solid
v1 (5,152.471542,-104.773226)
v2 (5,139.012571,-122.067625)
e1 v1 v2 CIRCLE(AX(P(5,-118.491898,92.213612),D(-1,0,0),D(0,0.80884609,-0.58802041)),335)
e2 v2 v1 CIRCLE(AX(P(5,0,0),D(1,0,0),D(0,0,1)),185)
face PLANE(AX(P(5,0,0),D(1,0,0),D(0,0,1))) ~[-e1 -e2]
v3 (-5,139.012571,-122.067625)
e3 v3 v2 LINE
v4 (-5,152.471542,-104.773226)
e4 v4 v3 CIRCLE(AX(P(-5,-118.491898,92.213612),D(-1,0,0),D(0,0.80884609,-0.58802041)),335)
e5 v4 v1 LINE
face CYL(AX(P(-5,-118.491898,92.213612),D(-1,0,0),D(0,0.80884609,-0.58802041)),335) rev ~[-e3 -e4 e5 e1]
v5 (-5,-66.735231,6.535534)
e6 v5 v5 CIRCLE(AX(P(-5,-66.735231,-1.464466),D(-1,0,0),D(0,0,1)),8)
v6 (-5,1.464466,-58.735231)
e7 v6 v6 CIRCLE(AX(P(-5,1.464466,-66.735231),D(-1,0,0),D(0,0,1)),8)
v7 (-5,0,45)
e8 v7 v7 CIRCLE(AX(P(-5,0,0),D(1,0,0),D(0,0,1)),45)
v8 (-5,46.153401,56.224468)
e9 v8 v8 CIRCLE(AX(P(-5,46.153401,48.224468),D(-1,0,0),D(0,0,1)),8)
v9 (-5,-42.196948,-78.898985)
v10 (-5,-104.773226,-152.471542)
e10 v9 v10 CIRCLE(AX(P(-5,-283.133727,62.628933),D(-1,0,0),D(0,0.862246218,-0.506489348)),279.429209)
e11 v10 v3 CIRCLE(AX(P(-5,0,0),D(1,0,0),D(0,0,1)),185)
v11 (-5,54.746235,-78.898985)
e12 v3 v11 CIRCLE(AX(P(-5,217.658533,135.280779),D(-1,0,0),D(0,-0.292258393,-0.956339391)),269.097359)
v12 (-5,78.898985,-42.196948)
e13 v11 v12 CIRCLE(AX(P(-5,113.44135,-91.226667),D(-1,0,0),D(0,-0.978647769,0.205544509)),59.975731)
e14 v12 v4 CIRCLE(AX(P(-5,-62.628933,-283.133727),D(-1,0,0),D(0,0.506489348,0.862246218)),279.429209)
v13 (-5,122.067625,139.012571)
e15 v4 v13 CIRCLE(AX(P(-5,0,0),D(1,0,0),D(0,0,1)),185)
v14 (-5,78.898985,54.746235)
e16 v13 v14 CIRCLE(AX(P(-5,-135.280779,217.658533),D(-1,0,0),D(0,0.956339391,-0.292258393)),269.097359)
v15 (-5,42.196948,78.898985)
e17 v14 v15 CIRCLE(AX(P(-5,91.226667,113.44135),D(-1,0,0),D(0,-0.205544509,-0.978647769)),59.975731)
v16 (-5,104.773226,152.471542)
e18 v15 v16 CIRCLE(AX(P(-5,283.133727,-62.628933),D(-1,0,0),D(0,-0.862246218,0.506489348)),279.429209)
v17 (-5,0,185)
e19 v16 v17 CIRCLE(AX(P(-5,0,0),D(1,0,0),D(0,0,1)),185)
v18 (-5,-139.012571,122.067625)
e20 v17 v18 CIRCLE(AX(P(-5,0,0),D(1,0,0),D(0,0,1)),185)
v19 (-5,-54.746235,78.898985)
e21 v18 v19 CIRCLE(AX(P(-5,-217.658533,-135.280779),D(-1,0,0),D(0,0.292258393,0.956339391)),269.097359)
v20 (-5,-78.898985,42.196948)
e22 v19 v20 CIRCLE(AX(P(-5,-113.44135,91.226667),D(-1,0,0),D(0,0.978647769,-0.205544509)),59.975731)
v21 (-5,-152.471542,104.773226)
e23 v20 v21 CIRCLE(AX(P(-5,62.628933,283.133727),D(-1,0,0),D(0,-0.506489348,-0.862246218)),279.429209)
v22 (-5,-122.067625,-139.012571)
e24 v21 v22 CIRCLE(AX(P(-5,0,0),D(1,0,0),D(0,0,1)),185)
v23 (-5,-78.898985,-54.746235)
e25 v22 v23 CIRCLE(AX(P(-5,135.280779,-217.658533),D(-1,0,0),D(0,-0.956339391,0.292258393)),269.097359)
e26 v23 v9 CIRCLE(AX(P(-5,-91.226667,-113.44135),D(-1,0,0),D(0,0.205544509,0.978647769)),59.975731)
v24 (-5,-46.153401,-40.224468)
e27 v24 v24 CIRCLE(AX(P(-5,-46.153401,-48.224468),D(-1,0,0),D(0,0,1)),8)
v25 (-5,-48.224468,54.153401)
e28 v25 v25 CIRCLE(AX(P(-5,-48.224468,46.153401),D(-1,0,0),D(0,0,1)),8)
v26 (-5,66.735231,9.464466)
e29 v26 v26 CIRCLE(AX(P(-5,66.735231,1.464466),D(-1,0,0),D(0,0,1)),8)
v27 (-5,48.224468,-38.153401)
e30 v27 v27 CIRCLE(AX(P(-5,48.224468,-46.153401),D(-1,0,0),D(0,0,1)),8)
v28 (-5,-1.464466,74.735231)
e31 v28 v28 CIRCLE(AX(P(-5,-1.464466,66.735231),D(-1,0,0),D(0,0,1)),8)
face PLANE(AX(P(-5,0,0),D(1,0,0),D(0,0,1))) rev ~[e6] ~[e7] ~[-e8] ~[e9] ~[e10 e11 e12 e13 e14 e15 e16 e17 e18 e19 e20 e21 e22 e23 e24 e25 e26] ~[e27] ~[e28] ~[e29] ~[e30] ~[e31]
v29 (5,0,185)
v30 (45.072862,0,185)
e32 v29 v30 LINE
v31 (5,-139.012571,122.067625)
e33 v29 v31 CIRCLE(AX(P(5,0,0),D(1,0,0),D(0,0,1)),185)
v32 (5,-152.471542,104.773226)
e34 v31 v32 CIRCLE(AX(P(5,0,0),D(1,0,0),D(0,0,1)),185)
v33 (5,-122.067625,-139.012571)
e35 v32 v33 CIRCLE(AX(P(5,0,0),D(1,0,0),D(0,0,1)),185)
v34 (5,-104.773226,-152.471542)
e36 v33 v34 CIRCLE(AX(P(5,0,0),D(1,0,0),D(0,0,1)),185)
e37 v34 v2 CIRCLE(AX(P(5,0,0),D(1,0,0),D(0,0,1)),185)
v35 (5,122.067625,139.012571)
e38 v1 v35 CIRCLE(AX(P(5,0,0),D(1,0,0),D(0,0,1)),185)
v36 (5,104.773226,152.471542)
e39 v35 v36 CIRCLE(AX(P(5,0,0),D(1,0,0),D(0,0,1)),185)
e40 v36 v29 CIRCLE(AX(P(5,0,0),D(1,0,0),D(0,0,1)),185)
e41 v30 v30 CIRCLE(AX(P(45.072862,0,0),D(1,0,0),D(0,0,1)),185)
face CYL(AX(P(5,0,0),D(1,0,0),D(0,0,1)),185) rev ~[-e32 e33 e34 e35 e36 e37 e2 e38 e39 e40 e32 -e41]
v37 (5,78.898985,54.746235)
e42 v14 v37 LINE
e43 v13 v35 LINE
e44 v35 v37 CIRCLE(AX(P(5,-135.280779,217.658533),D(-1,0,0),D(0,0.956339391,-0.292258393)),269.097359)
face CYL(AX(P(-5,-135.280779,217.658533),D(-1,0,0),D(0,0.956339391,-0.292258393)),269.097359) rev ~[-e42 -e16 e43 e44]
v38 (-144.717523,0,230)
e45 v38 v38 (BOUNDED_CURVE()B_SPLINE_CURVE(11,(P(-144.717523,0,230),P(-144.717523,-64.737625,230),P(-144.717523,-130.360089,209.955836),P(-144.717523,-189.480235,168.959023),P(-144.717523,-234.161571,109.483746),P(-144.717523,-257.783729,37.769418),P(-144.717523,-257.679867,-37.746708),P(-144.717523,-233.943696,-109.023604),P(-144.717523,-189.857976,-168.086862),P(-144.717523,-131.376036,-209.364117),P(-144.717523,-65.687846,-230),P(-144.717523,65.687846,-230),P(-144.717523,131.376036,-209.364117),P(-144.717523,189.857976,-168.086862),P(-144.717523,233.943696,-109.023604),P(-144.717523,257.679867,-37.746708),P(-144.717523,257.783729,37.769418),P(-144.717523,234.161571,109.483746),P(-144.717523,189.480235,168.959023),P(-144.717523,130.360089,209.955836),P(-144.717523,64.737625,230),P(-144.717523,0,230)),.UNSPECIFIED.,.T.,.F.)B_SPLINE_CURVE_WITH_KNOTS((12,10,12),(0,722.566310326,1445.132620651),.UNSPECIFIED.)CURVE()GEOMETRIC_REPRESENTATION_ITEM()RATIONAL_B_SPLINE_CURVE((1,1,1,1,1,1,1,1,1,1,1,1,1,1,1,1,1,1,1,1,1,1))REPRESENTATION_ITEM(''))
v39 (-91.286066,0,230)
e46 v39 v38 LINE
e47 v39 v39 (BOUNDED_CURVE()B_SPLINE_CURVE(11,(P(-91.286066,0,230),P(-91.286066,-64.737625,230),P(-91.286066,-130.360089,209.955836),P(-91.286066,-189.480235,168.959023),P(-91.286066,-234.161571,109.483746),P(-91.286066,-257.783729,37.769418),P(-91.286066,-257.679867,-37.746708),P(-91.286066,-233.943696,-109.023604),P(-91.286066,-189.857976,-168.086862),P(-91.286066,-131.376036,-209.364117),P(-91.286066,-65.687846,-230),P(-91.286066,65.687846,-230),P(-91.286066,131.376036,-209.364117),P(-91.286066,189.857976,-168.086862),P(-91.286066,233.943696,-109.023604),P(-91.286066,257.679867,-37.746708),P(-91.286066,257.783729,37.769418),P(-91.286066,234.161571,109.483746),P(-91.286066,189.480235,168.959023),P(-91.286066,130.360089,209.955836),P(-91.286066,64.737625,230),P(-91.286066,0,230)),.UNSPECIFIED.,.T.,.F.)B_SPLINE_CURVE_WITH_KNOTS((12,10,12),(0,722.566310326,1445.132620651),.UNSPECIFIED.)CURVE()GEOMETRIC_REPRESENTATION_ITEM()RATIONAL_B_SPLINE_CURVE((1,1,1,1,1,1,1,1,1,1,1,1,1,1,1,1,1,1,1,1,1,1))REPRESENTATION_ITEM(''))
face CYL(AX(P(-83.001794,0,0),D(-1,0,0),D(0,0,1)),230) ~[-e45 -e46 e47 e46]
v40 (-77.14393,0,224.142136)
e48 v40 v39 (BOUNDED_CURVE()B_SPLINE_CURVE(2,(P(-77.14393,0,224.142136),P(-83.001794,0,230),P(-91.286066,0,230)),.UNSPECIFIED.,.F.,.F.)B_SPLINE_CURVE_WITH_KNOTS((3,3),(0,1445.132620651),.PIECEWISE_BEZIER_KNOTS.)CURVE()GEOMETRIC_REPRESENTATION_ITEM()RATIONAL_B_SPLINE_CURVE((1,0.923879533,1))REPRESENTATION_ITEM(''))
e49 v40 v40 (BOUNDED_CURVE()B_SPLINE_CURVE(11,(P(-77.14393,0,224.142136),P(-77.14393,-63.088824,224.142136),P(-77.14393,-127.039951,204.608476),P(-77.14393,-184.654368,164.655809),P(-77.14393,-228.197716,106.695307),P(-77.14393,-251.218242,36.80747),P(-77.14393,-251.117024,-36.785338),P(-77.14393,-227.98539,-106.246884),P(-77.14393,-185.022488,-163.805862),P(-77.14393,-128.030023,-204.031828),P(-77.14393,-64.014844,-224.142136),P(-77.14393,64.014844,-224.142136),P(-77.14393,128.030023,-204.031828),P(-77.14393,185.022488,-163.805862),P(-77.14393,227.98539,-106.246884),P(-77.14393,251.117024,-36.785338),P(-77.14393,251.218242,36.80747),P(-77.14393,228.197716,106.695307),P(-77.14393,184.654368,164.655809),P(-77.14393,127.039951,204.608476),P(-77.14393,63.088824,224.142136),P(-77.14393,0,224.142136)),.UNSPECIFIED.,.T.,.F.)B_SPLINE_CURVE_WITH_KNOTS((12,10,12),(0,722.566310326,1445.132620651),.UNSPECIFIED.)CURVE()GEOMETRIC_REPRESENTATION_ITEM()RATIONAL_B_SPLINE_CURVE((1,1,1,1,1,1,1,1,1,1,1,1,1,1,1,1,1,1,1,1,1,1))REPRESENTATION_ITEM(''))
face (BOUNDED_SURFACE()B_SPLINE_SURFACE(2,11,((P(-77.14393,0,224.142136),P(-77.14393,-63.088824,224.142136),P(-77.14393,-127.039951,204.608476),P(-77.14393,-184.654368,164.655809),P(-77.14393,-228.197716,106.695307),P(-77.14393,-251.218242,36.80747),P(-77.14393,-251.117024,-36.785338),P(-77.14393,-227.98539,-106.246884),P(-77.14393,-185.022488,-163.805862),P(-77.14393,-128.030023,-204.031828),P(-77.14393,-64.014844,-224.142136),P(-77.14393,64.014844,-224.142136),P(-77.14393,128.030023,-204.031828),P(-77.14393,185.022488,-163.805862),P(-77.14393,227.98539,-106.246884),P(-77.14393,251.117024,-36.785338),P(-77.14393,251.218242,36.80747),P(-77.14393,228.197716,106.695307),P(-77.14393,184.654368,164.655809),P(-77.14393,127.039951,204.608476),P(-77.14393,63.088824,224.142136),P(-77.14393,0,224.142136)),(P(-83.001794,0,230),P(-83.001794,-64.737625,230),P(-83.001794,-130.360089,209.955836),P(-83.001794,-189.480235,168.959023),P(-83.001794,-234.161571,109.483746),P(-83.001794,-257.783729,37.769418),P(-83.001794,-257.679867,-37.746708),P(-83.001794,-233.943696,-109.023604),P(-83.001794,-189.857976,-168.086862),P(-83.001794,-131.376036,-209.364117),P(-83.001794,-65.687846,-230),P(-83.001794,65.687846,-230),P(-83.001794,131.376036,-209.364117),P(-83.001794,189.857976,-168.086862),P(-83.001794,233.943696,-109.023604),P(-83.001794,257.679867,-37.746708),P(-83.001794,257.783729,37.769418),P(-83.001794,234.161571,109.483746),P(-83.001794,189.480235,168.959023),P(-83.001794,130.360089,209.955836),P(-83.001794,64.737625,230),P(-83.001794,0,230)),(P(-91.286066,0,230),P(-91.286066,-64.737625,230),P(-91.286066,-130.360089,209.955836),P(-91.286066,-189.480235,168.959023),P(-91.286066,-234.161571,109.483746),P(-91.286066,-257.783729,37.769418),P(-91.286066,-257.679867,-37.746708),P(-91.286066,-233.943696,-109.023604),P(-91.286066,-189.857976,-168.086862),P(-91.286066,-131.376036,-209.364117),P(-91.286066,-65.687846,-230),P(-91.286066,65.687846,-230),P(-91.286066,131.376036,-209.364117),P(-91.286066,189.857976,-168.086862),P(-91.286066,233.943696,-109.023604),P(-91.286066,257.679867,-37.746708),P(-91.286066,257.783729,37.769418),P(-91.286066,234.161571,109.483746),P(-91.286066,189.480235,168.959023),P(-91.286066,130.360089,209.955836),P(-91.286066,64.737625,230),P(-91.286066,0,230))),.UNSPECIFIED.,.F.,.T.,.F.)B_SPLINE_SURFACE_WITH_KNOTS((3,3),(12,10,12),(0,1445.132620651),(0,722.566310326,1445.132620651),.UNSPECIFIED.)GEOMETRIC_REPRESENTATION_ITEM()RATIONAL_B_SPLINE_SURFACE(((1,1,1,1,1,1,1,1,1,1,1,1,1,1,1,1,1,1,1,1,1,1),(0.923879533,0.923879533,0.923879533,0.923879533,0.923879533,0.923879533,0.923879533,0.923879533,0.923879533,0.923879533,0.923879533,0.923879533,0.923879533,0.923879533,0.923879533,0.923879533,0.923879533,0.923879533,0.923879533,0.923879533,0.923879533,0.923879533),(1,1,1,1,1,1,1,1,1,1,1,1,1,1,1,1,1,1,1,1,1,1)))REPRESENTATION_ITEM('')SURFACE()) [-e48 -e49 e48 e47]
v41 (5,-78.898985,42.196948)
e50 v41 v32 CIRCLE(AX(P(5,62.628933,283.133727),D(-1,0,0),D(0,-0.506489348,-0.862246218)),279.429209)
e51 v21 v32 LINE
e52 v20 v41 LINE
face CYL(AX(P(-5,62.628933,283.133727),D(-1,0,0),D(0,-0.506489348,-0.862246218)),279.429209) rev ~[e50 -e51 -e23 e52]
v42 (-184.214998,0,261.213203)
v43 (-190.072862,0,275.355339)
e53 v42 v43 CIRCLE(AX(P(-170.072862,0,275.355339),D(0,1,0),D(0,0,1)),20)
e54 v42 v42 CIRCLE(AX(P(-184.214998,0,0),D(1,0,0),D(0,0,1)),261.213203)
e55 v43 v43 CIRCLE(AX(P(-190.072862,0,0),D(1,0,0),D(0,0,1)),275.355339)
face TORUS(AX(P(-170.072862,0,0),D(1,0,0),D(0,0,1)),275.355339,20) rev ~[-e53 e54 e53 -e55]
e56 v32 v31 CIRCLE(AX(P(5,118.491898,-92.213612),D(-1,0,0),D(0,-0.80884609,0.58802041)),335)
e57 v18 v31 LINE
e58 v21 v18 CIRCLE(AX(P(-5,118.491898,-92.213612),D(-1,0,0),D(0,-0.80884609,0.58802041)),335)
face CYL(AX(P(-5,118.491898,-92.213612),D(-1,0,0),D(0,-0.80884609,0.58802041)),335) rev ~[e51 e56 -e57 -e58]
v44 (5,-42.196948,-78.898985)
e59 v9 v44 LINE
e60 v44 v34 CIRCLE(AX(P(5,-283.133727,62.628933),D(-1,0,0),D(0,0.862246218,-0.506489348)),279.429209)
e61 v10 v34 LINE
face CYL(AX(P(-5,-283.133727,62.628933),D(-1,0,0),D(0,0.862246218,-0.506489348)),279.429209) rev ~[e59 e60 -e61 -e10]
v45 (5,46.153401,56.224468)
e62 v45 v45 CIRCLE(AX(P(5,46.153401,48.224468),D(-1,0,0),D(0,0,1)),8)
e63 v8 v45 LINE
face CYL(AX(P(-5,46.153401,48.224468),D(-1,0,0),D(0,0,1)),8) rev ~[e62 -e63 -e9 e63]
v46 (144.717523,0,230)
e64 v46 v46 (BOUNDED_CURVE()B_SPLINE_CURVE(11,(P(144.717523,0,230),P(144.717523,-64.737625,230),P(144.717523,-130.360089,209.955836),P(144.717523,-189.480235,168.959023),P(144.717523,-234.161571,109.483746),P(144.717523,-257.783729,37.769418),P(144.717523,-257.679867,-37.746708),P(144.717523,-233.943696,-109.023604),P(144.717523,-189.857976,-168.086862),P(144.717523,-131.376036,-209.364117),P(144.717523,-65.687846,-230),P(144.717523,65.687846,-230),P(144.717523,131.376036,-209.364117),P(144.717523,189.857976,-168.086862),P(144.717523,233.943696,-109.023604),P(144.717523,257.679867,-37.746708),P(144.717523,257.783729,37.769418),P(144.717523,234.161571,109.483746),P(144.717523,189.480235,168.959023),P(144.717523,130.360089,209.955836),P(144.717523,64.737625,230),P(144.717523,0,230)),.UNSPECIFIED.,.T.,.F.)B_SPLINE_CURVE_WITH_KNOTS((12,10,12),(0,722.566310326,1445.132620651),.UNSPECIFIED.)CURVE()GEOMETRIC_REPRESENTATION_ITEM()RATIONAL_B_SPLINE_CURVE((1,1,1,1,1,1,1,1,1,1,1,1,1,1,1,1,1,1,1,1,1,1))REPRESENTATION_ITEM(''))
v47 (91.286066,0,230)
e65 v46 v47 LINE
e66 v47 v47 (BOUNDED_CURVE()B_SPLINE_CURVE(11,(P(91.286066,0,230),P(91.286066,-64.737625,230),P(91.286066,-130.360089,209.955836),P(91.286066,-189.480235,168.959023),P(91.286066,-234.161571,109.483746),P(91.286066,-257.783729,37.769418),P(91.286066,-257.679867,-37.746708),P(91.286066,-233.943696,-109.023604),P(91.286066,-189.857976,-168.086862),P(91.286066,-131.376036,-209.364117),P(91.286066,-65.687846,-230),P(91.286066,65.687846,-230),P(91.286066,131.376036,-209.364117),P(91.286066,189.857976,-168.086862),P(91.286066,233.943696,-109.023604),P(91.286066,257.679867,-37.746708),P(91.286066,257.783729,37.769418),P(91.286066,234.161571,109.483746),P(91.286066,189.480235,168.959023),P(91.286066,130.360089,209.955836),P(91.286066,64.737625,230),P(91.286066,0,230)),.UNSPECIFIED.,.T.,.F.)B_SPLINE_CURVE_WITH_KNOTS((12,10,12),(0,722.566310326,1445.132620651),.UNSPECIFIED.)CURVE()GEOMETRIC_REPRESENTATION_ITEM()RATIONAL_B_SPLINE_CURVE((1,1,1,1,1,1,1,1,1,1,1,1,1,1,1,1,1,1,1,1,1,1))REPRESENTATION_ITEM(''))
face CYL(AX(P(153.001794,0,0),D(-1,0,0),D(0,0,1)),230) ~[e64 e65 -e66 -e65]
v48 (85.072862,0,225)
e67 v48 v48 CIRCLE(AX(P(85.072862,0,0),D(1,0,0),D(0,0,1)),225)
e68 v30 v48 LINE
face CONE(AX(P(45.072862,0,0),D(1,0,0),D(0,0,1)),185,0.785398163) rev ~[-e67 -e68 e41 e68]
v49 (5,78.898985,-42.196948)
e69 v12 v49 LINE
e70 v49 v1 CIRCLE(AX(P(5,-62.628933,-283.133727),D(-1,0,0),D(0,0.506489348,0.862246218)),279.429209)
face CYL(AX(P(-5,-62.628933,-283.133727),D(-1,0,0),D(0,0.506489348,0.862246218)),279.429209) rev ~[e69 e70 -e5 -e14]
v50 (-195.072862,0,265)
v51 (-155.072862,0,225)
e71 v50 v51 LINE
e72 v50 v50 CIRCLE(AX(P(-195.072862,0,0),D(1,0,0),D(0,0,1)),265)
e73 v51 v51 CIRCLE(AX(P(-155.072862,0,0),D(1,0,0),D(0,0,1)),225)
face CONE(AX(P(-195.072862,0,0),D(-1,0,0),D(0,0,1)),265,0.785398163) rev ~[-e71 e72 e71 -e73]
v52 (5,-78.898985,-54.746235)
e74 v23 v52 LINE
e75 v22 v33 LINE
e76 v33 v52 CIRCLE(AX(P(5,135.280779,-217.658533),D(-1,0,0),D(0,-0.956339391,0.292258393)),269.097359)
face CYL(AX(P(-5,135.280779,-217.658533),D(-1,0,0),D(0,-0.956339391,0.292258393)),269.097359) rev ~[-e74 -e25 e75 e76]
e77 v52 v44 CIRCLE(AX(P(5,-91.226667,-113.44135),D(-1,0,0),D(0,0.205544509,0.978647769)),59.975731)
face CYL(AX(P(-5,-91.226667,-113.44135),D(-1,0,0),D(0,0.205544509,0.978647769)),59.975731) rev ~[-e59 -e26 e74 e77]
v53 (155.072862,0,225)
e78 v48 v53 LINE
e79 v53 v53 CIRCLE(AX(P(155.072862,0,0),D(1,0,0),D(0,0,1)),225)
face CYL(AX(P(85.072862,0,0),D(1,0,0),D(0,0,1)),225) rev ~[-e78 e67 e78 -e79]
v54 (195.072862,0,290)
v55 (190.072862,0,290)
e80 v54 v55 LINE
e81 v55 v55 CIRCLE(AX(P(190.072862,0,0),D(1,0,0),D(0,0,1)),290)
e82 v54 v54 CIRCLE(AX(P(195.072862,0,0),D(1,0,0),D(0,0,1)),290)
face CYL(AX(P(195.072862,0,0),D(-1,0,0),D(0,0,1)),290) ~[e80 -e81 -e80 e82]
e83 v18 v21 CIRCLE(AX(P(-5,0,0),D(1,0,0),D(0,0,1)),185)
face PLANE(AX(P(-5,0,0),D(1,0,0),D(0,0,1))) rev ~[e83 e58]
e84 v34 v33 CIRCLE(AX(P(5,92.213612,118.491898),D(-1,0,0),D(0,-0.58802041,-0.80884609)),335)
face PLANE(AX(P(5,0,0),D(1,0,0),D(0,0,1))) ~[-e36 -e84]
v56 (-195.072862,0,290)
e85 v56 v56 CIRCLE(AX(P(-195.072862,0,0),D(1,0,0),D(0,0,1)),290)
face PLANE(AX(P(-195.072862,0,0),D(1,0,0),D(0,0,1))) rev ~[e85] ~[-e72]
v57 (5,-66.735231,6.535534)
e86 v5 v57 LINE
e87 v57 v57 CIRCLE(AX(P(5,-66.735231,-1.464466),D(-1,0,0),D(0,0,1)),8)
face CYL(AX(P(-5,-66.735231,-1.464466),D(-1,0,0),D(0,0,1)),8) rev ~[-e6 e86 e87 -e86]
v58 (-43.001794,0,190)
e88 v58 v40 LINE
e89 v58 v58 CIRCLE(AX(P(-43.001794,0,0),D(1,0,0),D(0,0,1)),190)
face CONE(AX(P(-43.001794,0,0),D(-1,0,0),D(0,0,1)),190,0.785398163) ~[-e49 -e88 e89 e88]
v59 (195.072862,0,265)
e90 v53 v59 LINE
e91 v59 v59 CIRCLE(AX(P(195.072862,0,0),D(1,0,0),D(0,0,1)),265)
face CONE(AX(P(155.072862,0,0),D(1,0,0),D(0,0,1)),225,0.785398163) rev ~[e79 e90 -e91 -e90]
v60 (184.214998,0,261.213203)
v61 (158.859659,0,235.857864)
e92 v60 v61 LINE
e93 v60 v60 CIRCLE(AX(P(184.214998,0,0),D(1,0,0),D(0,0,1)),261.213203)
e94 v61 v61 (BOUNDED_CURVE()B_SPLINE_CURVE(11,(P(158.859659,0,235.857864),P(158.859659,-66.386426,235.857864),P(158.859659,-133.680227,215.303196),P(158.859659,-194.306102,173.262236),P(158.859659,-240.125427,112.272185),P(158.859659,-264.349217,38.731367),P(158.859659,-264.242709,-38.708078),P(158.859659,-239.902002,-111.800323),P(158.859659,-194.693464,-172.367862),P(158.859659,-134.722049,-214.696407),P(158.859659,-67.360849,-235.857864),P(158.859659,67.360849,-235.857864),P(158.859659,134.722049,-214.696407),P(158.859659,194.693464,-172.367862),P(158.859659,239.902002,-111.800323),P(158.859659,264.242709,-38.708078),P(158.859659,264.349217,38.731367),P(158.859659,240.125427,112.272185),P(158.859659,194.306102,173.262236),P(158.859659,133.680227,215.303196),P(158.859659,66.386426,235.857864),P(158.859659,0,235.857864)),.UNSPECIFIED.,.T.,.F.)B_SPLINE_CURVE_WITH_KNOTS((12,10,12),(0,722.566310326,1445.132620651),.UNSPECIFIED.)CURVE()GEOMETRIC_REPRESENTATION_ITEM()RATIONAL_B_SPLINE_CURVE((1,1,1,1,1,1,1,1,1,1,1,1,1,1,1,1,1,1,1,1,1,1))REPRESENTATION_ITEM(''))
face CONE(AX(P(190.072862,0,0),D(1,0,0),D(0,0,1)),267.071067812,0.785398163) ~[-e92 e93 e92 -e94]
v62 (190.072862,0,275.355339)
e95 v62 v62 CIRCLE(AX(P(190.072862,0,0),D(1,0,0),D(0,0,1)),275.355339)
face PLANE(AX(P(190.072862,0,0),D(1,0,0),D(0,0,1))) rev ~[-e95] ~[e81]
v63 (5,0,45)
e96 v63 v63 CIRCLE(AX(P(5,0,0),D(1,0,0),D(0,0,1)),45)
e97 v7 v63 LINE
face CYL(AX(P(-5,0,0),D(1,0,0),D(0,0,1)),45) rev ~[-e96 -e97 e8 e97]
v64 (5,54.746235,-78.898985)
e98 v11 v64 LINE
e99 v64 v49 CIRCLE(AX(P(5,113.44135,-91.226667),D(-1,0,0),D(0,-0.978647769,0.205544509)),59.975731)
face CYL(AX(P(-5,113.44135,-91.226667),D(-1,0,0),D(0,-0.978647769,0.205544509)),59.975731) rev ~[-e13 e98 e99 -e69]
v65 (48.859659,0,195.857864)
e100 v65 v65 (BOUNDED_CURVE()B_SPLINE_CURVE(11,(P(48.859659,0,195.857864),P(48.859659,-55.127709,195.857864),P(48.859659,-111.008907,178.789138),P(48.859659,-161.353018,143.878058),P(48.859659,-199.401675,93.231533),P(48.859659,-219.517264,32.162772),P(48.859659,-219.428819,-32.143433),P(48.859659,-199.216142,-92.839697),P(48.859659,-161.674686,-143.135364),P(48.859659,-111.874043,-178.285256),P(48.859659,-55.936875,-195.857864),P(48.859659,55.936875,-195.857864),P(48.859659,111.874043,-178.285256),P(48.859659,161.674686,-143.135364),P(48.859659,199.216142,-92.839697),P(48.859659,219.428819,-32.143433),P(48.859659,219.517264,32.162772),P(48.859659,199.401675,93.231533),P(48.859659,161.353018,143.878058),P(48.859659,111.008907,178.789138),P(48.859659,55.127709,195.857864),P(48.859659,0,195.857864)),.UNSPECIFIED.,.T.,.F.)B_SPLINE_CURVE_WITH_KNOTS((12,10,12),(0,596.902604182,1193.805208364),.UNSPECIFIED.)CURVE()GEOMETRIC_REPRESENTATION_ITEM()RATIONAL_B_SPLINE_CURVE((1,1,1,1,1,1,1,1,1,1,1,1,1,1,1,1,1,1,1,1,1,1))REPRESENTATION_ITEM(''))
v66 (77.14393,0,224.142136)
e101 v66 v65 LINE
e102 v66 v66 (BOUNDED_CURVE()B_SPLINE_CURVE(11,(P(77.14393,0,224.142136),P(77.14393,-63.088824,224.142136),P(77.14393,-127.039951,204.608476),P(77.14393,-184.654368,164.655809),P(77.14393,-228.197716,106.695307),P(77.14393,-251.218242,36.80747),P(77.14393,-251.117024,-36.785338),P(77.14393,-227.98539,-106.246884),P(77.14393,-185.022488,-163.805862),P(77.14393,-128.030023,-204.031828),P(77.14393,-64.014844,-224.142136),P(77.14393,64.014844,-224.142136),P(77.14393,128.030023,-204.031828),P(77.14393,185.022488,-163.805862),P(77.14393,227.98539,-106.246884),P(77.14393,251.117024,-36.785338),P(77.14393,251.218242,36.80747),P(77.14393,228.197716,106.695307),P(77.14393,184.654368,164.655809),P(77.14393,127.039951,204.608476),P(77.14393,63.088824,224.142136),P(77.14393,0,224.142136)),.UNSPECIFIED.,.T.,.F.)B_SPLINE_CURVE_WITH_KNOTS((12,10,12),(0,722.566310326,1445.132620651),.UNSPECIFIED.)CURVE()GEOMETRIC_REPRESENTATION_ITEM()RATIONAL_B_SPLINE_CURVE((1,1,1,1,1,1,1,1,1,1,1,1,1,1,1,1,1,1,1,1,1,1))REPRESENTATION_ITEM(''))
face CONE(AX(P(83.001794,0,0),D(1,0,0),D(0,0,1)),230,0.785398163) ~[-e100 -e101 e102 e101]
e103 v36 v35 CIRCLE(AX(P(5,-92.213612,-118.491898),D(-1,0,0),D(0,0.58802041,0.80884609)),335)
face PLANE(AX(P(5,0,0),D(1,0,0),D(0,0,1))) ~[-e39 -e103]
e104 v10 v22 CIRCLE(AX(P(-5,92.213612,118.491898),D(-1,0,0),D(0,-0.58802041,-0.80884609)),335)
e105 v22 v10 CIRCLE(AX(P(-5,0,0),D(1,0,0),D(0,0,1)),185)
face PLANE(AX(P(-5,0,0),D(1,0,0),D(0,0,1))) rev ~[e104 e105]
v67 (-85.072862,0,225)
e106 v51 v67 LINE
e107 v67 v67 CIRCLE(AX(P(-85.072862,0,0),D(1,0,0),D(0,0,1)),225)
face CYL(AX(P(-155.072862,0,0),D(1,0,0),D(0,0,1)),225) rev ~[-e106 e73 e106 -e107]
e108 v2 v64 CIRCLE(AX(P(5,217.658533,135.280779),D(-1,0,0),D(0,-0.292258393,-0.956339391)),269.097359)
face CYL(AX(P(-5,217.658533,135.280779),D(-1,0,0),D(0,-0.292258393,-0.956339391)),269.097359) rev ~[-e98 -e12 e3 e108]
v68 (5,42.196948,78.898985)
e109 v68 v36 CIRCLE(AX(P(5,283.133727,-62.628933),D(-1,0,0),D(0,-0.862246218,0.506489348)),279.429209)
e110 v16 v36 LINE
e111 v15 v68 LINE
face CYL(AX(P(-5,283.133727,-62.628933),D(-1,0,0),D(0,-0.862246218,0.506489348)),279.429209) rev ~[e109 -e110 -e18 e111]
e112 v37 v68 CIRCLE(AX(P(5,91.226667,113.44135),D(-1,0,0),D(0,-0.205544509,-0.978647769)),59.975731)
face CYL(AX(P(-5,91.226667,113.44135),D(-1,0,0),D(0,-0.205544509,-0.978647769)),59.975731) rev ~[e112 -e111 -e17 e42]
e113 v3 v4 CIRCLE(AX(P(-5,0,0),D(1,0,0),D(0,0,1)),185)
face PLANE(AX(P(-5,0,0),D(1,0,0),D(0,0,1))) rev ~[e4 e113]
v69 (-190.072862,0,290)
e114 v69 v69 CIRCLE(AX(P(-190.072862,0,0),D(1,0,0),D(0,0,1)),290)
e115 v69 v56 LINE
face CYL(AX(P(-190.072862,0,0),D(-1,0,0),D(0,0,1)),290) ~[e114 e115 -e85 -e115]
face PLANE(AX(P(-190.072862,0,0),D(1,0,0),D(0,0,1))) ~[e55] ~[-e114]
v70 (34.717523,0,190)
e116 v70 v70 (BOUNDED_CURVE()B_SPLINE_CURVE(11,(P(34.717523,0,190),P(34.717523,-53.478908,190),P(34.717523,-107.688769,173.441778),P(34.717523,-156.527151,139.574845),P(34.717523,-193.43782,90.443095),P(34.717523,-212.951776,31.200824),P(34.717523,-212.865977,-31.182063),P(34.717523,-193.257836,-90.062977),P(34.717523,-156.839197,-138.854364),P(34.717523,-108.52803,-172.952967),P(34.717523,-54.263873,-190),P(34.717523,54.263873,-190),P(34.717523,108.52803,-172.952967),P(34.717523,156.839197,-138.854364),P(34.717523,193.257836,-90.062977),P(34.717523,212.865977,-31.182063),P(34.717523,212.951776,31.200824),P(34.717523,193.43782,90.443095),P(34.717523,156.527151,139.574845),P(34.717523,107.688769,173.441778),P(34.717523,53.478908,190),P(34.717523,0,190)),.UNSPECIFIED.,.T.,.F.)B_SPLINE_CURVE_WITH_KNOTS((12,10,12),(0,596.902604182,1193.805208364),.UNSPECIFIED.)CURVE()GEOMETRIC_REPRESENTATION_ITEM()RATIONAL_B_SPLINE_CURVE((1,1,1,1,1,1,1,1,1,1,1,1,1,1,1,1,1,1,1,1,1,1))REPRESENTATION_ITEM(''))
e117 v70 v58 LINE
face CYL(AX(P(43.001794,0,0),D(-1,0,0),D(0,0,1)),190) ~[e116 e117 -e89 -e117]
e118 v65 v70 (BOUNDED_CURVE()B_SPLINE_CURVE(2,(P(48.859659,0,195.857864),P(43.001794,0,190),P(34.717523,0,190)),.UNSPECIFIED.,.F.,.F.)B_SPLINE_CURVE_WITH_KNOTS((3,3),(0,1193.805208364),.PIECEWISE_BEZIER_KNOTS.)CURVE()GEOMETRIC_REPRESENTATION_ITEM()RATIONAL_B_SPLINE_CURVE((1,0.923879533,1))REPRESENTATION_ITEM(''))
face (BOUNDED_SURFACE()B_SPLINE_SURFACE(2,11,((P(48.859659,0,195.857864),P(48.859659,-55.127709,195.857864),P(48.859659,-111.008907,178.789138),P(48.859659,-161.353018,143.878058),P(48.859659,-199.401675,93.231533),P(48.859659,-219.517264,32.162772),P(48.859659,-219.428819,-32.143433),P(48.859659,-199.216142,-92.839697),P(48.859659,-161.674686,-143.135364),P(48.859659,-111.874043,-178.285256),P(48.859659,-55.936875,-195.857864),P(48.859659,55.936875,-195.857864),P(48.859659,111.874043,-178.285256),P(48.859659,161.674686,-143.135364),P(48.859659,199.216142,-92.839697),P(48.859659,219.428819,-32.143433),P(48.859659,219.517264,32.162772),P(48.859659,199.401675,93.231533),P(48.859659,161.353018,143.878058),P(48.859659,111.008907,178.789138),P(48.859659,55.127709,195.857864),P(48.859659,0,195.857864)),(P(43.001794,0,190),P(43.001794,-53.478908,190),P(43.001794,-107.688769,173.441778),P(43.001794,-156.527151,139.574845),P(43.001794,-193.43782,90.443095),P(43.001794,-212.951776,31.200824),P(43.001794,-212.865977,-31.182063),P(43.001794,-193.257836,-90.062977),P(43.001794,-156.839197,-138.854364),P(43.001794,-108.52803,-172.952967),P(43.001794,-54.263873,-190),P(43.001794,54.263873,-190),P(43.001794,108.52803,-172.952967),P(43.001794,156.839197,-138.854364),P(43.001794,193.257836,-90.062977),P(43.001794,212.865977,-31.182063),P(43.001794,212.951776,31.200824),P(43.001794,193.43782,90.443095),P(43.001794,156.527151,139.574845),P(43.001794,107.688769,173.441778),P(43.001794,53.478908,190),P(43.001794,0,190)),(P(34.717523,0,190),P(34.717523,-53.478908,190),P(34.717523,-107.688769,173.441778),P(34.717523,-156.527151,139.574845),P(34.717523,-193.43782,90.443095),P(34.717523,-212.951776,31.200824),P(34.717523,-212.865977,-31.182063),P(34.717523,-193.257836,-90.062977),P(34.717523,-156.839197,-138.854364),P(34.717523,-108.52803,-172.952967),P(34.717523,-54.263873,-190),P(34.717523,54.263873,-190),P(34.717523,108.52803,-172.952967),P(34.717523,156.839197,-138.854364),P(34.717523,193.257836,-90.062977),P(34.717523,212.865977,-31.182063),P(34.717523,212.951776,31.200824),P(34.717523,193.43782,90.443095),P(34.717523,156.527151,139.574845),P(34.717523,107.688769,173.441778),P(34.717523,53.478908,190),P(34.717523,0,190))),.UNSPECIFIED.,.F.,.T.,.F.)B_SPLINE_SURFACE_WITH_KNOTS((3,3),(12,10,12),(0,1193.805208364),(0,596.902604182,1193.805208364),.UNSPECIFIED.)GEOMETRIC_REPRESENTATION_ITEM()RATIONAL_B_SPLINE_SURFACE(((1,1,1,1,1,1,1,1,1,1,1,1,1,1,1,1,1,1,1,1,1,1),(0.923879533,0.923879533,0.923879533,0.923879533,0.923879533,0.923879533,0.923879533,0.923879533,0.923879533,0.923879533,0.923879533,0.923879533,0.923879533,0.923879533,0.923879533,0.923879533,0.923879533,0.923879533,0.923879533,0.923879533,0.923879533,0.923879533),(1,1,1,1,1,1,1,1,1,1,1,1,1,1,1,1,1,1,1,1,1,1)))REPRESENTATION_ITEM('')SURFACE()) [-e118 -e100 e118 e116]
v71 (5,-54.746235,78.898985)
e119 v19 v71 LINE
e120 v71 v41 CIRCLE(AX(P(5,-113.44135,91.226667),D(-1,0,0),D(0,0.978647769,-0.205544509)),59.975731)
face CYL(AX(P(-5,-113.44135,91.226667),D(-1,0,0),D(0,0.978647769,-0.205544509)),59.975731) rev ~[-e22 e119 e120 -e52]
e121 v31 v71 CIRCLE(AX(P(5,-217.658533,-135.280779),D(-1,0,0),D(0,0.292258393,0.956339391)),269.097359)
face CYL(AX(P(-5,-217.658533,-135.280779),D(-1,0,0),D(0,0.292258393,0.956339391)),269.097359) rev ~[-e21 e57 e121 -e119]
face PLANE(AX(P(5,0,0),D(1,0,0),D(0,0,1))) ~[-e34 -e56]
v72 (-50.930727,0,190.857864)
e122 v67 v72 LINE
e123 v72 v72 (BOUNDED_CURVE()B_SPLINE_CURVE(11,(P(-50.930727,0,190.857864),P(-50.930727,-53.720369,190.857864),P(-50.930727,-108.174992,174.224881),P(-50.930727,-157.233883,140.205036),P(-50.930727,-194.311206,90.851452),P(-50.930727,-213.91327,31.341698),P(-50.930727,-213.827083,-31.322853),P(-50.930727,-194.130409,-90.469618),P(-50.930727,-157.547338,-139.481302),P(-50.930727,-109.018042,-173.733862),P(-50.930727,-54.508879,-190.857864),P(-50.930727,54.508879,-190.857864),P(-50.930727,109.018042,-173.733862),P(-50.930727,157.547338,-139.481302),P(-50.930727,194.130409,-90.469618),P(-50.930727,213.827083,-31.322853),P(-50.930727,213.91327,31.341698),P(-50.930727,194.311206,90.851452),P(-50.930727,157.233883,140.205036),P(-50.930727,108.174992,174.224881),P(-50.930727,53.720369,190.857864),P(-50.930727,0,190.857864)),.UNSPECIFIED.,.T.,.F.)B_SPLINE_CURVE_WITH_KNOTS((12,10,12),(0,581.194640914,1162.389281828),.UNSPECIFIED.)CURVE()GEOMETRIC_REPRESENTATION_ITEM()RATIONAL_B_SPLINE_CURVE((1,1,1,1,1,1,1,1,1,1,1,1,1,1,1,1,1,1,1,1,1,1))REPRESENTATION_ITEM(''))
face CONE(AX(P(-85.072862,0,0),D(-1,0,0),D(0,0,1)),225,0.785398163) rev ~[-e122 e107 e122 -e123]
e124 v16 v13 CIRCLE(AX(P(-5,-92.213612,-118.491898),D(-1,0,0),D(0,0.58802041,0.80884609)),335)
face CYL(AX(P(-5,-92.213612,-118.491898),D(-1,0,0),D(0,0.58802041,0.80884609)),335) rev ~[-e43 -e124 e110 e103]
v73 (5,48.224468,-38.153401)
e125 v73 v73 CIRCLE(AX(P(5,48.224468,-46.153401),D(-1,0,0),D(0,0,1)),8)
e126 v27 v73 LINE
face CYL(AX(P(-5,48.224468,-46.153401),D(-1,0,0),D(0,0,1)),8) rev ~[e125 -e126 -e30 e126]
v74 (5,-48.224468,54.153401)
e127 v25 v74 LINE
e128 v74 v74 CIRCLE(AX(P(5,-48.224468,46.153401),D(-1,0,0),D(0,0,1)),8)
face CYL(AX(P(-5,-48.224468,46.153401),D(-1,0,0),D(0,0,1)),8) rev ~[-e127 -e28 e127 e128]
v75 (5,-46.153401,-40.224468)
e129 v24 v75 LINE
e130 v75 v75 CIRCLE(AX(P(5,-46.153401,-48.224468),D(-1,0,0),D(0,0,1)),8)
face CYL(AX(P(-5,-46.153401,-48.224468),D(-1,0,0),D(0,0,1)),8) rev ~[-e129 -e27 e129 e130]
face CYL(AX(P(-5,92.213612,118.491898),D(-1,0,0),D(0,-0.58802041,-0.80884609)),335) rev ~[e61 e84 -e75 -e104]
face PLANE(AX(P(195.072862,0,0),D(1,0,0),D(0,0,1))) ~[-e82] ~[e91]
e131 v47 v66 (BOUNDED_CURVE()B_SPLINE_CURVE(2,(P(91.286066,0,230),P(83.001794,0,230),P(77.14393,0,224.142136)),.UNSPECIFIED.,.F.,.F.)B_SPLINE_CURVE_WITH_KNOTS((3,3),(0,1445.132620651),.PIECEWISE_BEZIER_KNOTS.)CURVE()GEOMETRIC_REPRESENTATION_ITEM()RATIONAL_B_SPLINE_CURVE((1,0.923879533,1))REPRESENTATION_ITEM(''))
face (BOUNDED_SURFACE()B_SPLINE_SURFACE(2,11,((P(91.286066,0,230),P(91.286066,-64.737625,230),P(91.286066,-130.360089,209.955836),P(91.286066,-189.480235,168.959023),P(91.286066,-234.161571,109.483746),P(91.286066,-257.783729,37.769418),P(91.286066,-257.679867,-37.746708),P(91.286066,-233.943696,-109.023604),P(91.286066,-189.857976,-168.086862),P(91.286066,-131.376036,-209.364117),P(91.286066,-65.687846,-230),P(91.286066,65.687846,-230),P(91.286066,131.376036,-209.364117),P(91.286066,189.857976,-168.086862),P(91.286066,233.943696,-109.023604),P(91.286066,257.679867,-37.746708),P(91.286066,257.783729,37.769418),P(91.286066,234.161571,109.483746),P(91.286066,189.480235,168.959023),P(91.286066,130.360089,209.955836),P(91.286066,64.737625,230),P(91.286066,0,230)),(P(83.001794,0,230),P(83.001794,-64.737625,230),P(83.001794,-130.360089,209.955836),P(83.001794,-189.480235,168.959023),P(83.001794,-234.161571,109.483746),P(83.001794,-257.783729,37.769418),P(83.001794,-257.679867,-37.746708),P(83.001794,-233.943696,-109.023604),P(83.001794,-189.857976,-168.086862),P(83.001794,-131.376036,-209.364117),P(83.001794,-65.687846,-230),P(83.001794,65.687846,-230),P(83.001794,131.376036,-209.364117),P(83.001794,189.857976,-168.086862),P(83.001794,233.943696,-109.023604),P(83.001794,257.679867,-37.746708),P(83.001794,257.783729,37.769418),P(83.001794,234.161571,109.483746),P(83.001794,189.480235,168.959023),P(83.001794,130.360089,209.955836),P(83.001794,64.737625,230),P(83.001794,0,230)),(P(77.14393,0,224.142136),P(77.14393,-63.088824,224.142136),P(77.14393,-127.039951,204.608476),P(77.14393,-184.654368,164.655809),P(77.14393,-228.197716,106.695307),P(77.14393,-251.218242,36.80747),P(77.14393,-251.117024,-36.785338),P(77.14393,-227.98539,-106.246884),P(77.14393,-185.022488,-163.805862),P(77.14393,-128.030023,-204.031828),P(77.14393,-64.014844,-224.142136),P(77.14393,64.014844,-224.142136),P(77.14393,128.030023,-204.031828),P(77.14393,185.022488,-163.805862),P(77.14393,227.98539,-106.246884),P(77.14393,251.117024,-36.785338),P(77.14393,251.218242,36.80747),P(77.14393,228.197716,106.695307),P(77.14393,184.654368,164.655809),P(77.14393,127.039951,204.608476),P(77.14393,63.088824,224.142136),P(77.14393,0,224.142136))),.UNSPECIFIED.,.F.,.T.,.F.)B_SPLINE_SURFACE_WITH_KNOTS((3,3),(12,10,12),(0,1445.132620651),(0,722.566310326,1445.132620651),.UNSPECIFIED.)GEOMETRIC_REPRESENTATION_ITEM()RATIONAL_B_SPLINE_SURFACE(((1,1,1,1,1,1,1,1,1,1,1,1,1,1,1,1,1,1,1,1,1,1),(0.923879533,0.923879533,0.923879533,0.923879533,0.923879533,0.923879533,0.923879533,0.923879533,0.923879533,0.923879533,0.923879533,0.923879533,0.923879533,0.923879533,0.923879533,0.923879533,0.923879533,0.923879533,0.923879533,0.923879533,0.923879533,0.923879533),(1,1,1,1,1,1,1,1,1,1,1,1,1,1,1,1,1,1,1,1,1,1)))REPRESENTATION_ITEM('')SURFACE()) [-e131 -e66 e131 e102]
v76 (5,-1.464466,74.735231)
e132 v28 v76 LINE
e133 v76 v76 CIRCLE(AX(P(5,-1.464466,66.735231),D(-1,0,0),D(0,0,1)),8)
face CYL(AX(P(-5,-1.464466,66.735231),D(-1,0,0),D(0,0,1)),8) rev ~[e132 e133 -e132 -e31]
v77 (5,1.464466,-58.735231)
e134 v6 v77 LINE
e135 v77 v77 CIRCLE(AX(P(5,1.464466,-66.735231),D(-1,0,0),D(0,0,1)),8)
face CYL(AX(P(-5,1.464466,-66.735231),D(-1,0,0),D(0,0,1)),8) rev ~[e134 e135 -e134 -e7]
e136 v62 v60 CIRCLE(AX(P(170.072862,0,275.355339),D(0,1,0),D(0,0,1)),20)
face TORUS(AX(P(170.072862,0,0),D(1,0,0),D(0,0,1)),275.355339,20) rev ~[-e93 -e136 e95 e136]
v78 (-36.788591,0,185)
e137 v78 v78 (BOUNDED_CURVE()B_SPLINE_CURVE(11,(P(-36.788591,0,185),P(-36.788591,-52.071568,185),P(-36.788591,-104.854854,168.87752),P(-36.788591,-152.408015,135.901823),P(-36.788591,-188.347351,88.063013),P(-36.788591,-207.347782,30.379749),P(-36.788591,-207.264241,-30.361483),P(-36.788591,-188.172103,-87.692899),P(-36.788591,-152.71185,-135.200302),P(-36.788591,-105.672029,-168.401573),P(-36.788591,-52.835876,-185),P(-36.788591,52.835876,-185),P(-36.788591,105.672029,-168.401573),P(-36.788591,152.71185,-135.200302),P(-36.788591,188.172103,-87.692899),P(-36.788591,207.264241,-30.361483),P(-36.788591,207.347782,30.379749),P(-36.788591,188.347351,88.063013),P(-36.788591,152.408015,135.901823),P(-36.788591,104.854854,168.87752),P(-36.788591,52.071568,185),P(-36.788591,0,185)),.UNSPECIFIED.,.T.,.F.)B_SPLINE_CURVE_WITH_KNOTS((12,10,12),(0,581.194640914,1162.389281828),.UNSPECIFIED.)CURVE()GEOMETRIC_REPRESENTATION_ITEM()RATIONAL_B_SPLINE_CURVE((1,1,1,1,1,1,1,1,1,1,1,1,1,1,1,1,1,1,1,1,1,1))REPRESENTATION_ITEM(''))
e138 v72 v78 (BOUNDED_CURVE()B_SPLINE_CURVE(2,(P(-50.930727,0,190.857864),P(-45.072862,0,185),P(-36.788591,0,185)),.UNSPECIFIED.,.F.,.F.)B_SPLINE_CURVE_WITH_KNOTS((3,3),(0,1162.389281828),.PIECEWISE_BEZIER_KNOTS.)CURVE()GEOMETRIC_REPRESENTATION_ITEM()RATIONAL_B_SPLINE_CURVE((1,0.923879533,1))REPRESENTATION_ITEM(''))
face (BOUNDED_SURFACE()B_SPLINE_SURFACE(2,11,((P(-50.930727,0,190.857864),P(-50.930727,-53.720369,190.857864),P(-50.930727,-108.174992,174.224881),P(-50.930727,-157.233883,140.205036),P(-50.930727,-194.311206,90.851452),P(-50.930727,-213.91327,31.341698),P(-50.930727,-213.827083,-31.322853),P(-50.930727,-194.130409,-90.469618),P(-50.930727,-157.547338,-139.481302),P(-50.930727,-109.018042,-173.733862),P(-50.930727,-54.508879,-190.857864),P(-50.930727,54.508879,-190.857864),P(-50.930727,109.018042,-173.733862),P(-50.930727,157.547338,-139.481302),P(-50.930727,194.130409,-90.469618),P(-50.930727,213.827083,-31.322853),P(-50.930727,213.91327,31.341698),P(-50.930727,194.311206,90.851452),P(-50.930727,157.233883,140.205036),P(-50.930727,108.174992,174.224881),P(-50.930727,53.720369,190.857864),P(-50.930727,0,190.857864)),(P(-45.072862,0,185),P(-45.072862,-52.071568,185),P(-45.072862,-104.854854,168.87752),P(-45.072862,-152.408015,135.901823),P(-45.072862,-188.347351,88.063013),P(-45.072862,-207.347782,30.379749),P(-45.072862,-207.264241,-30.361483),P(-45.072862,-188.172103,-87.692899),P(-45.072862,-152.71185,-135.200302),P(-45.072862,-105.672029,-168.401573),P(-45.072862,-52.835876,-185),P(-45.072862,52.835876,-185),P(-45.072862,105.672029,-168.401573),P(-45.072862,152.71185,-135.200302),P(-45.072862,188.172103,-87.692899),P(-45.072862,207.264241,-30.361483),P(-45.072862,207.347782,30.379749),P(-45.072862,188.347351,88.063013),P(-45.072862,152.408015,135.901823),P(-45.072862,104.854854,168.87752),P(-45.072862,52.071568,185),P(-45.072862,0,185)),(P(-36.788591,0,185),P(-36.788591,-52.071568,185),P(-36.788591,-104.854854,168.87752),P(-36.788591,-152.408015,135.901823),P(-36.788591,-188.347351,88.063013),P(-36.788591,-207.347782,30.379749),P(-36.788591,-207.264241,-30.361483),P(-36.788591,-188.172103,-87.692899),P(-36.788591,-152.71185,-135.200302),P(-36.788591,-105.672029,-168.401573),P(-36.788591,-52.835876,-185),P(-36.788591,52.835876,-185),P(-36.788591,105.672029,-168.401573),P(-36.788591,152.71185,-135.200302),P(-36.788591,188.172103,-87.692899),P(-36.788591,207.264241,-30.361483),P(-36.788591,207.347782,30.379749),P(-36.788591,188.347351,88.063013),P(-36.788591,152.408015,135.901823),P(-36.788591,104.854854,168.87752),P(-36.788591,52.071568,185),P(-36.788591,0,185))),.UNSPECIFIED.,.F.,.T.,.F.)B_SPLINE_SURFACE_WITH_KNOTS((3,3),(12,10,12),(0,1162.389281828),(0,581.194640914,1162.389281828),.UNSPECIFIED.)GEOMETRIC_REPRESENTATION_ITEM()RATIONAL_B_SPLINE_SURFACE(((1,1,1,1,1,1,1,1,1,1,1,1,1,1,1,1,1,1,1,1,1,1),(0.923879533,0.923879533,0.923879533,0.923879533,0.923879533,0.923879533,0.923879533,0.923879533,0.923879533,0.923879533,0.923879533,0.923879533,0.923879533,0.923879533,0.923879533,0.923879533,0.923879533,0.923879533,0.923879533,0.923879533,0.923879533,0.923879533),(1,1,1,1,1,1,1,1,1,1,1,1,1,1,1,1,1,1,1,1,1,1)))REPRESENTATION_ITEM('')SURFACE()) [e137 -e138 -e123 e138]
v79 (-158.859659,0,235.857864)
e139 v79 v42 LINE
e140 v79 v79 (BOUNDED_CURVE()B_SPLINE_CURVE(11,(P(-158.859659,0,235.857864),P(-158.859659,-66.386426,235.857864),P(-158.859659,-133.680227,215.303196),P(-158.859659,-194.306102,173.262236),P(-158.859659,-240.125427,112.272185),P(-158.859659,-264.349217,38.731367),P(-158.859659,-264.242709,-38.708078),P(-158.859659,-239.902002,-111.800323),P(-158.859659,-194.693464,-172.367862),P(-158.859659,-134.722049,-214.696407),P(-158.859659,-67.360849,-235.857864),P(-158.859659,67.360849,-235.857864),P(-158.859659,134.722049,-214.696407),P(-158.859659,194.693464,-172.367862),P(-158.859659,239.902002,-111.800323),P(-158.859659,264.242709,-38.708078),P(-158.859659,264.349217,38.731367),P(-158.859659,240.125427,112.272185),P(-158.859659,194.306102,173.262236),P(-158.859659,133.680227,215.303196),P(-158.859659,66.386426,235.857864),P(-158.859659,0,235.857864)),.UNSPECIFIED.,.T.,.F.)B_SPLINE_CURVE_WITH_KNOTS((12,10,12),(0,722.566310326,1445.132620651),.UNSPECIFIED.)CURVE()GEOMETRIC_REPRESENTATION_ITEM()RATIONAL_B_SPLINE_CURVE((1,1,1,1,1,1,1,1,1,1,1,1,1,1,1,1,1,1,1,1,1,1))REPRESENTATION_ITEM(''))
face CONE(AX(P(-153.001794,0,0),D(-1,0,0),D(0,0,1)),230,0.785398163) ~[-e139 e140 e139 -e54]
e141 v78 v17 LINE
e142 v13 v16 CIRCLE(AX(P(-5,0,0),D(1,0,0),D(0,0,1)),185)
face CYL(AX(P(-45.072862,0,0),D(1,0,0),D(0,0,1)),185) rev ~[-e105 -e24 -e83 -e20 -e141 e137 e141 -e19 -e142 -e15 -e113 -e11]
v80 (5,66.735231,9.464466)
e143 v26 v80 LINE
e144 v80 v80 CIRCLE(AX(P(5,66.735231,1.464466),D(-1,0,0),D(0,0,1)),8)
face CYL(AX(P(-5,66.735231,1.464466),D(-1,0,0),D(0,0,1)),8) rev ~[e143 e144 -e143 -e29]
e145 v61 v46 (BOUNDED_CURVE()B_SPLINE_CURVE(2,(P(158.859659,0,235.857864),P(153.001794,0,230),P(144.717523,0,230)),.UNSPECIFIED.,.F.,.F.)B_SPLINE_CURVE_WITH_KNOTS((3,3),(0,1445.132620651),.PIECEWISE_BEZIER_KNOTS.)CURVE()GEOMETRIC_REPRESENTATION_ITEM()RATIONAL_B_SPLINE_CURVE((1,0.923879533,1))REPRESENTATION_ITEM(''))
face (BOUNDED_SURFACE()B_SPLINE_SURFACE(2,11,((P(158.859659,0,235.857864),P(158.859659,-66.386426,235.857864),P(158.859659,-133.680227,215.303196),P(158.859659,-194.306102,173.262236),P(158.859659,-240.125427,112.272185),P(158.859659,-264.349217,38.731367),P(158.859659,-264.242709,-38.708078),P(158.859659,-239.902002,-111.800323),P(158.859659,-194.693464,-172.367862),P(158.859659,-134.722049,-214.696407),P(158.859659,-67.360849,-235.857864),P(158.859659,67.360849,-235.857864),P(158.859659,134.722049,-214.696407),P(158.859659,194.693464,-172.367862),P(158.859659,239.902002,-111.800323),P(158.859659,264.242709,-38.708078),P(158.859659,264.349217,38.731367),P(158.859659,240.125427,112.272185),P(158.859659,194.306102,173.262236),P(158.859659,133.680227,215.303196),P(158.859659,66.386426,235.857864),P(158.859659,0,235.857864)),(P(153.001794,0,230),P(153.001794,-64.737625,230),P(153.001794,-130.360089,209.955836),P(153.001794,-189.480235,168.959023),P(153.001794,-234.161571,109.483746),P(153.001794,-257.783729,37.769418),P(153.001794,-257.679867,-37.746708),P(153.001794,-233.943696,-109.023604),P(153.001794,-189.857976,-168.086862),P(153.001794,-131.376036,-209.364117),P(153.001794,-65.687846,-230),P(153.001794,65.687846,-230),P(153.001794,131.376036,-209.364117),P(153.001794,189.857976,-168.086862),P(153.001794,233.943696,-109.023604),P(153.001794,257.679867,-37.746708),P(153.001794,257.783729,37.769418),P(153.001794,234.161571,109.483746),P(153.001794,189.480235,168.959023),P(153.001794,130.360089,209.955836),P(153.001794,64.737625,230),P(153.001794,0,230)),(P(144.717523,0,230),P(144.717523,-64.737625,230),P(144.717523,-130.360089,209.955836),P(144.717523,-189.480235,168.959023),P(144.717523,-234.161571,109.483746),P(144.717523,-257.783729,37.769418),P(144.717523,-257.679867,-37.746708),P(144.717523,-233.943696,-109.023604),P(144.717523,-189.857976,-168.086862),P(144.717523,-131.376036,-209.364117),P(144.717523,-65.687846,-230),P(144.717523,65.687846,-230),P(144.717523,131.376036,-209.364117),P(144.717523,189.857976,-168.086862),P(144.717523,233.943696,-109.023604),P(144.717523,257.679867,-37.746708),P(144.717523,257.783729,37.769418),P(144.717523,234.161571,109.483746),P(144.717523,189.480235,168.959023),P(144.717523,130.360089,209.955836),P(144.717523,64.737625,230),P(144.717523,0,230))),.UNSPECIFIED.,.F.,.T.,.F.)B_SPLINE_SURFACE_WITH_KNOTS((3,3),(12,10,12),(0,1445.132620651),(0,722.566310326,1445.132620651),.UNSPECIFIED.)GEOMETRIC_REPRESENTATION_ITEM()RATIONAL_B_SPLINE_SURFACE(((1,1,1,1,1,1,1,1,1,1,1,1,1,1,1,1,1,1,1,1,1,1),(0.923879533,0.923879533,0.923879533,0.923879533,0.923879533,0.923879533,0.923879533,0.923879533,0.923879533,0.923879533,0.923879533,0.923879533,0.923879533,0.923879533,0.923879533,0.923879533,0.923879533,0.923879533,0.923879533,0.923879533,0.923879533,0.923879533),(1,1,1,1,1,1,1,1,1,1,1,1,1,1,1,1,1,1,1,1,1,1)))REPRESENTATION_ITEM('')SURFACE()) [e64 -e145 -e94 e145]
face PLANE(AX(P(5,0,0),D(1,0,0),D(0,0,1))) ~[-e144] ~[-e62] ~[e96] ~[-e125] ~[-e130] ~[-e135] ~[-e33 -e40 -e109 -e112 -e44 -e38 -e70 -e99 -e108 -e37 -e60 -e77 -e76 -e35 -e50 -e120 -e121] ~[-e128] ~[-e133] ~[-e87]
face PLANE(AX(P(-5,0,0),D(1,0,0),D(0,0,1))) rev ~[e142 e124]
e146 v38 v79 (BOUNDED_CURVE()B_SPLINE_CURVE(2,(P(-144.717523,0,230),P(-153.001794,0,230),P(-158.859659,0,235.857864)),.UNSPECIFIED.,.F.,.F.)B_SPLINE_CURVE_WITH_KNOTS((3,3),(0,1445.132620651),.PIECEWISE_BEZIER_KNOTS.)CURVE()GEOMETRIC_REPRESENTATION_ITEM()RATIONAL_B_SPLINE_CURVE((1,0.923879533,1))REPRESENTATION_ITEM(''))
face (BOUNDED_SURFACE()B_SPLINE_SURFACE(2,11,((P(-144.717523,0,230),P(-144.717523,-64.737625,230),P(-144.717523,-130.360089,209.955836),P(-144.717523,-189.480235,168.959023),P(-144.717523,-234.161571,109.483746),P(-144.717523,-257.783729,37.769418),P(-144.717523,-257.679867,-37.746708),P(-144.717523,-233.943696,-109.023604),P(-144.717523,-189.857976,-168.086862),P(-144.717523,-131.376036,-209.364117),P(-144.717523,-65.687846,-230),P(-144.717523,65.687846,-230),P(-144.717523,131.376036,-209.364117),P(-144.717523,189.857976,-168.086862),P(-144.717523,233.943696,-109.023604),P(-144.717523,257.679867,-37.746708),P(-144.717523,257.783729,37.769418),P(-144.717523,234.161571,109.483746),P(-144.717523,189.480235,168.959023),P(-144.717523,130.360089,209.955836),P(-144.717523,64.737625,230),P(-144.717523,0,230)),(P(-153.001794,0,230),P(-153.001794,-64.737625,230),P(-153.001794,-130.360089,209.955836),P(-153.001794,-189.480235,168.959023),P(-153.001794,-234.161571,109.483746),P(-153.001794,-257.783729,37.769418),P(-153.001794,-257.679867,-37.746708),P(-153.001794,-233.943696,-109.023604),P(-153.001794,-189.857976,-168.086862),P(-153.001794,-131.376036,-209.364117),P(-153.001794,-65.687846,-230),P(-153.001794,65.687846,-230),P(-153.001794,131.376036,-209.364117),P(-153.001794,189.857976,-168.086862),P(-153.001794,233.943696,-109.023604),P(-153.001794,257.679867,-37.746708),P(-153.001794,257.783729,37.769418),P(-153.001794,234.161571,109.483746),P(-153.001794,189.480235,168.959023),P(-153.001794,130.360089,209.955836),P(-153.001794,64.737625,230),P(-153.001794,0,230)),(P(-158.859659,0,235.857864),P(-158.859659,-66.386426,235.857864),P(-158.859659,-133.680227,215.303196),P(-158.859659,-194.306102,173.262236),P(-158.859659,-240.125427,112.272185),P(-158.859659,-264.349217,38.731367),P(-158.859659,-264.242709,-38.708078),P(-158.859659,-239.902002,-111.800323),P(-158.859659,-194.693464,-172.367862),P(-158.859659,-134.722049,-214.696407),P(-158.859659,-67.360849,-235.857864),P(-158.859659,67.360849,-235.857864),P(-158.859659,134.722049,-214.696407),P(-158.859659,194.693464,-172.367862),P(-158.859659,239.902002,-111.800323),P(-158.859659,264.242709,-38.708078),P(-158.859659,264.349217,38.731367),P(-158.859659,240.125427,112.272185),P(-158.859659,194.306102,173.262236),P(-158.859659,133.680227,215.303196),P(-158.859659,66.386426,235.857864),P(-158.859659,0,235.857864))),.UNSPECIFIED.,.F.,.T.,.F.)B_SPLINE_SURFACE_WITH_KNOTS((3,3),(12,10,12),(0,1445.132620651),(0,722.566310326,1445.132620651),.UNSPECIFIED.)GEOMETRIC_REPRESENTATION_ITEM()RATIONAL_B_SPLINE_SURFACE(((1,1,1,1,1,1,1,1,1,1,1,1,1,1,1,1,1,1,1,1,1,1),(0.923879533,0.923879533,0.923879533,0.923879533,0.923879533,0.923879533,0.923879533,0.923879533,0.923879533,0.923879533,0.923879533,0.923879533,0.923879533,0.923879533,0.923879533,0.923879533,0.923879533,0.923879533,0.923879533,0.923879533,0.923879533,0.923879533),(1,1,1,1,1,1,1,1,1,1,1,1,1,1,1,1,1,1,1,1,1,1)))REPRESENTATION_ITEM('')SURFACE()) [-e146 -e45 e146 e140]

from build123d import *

# Parameters (mm, degrees)
FILLET1_R          = 20
CUT_EXTRUDE2_DEPTH = 457.321323385
SKETCH3_R          = 8
CUT_EXTRUDE3_DEPTH = 457.321323385


with BuildPart() as part:
    # Sketch1 → Revolve1 (revolve)
    with BuildSketch(Plane.XY, mode=Mode.PRIVATE) as revolve1_sk:
        Polygon((-195.072862168, 290), (-195.072862168, 265), (-155.072862168, 225), (-85.072862168, 225), (-45.072862168, 185), (-5, 185), (-5, 45), (5, 45), (5, 185), (45.072862168, 185), (85.072862168, 225), (155.072862168, 225), (195.072862168, 265), (195.072862168, 290), (190.072862168, 290), (190.072862168, 267.071067812), (153.001794357, 230), (83.001794357, 230), (43.001794357, 190), (-43.001794357, 190), (-83.001794357, 230), (-153.001794357, 230), (-190.072862168, 267.071067812), (-190.072862168, 290), align=None)
    revolve(revolve1_sk.sketch.rotate(Axis((-343.890956764, 0, 0), (1, 0, 0)), 90), axis=Axis((-343.890956764, 0, 0), (1, 0, 0)))

    # Fillet1
    fillet1_edges = [part.edges().sort_by_distance(p)[0] for p in [
        (-45.072862168, 0, -185),
        (190.072862168, 0, -267.071067812),
        (153.001794357, 0, -230),
        (83.001794357, 0, -230),
        (43.001794357, 0, -190),
        (-83.001794357, 0, -230),
        (-153.001794357, 0, -230),
        (-190.072862168, 0, -267.071067812),
    ]]
    fillet(fillet1_edges, radius=FILLET1_R)

    # Sketch2 → Cut-Extrude2 (cut, through all)
    with BuildSketch(Plane.ZY.offset(5)):
        with BuildLine():
            ThreePointArc((54.746234537, 78.898985068), (63.340782984, 58.256658031), (78.898985068, 42.196948305))
            ThreePointArc((78.898985068, 42.196948305), (118.409461693, 70.28217645), (152.471542273, 104.773225573))
            ThreePointArc((152.471542273, 104.773225573), (145.883511032, 113.530508797), (139.012571213, 122.067624884))
            ThreePointArc((139.012571213, 122.067624884), (94.965904289, 104.218505269), (54.746234537, 78.898985068))
        make_face()
        with BuildLine():
            ThreePointArc((42.196948305, -78.898985068), (70.28217645, -118.409461693), (104.773225573, -152.471542273))
            ThreePointArc((104.773225573, -152.471542273), (113.530508797, -145.883511032), (122.067624884, -139.012571213))
            ThreePointArc((122.067624884, -139.012571213), (104.218505269, -94.965904289), (78.898985068, -54.746234537))
            ThreePointArc((78.898985068, -54.746234537), (58.256658031, -63.340782984), (42.196948305, -78.898985068))
        make_face()
        with BuildLine():
            ThreePointArc((-78.898985068, -42.196948305), (-118.409461693, -70.28217645), (-152.471542273, -104.773225573))
            ThreePointArc((-152.471542273, -104.773225573), (-145.883511032, -113.530508797), (-139.012571213, -122.067624884))
            ThreePointArc((-139.012571213, -122.067624884), (-94.965904289, -104.218505269), (-54.746234537, -78.898985068))
            ThreePointArc((-54.746234537, -78.898985068), (-63.340782984, -58.256658031), (-78.898985068, -42.196948305))
        make_face()
        with BuildLine():
            ThreePointArc((-42.196948305, 78.898985068), (-70.28217645, 118.409461693), (-104.773225573, 152.471542273))
            ThreePointArc((-104.773225573, 152.471542273), (-113.530508797, 145.883511032), (-122.067624884, 139.012571213))
            ThreePointArc((-122.067624884, 139.012571213), (-104.218505269, 94.965904289), (-78.898985068, 54.746234537))
            ThreePointArc((-78.898985068, 54.746234537), (-58.256658031, 63.340782984), (-42.196948305, 78.898985068))
        make_face()
    extrude(amount=-CUT_EXTRUDE2_DEPTH, mode=Mode.SUBTRACT)

    # Sketch3 → Cut-Extrude3 (cut, through all)
    with BuildSketch(Plane.ZY.offset(5)):
        with Locations((1.464466094, 66.735231129)):
            Circle(SKETCH3_R)
        with Locations((48.224468381, 46.153400569)):
            Circle(SKETCH3_R)
        with Locations((66.735231129, -1.464466094)):
            Circle(SKETCH3_R)
        with Locations((46.153400569, -48.224468381)):
            Circle(SKETCH3_R)
        with Locations((-1.464466094, -66.735231129)):
            Circle(SKETCH3_R)
        with Locations((-48.224468381, -46.153400569)):
            Circle(SKETCH3_R)
        with Locations((-66.735231129, 1.464466094)):
            Circle(SKETCH3_R)
        with Locations((-46.153400569, 48.224468381)):
            Circle(SKETCH3_R)
    extrude(amount=-CUT_EXTRUDE3_DEPTH, mode=Mode.SUBTRACT)


solid = part.part
